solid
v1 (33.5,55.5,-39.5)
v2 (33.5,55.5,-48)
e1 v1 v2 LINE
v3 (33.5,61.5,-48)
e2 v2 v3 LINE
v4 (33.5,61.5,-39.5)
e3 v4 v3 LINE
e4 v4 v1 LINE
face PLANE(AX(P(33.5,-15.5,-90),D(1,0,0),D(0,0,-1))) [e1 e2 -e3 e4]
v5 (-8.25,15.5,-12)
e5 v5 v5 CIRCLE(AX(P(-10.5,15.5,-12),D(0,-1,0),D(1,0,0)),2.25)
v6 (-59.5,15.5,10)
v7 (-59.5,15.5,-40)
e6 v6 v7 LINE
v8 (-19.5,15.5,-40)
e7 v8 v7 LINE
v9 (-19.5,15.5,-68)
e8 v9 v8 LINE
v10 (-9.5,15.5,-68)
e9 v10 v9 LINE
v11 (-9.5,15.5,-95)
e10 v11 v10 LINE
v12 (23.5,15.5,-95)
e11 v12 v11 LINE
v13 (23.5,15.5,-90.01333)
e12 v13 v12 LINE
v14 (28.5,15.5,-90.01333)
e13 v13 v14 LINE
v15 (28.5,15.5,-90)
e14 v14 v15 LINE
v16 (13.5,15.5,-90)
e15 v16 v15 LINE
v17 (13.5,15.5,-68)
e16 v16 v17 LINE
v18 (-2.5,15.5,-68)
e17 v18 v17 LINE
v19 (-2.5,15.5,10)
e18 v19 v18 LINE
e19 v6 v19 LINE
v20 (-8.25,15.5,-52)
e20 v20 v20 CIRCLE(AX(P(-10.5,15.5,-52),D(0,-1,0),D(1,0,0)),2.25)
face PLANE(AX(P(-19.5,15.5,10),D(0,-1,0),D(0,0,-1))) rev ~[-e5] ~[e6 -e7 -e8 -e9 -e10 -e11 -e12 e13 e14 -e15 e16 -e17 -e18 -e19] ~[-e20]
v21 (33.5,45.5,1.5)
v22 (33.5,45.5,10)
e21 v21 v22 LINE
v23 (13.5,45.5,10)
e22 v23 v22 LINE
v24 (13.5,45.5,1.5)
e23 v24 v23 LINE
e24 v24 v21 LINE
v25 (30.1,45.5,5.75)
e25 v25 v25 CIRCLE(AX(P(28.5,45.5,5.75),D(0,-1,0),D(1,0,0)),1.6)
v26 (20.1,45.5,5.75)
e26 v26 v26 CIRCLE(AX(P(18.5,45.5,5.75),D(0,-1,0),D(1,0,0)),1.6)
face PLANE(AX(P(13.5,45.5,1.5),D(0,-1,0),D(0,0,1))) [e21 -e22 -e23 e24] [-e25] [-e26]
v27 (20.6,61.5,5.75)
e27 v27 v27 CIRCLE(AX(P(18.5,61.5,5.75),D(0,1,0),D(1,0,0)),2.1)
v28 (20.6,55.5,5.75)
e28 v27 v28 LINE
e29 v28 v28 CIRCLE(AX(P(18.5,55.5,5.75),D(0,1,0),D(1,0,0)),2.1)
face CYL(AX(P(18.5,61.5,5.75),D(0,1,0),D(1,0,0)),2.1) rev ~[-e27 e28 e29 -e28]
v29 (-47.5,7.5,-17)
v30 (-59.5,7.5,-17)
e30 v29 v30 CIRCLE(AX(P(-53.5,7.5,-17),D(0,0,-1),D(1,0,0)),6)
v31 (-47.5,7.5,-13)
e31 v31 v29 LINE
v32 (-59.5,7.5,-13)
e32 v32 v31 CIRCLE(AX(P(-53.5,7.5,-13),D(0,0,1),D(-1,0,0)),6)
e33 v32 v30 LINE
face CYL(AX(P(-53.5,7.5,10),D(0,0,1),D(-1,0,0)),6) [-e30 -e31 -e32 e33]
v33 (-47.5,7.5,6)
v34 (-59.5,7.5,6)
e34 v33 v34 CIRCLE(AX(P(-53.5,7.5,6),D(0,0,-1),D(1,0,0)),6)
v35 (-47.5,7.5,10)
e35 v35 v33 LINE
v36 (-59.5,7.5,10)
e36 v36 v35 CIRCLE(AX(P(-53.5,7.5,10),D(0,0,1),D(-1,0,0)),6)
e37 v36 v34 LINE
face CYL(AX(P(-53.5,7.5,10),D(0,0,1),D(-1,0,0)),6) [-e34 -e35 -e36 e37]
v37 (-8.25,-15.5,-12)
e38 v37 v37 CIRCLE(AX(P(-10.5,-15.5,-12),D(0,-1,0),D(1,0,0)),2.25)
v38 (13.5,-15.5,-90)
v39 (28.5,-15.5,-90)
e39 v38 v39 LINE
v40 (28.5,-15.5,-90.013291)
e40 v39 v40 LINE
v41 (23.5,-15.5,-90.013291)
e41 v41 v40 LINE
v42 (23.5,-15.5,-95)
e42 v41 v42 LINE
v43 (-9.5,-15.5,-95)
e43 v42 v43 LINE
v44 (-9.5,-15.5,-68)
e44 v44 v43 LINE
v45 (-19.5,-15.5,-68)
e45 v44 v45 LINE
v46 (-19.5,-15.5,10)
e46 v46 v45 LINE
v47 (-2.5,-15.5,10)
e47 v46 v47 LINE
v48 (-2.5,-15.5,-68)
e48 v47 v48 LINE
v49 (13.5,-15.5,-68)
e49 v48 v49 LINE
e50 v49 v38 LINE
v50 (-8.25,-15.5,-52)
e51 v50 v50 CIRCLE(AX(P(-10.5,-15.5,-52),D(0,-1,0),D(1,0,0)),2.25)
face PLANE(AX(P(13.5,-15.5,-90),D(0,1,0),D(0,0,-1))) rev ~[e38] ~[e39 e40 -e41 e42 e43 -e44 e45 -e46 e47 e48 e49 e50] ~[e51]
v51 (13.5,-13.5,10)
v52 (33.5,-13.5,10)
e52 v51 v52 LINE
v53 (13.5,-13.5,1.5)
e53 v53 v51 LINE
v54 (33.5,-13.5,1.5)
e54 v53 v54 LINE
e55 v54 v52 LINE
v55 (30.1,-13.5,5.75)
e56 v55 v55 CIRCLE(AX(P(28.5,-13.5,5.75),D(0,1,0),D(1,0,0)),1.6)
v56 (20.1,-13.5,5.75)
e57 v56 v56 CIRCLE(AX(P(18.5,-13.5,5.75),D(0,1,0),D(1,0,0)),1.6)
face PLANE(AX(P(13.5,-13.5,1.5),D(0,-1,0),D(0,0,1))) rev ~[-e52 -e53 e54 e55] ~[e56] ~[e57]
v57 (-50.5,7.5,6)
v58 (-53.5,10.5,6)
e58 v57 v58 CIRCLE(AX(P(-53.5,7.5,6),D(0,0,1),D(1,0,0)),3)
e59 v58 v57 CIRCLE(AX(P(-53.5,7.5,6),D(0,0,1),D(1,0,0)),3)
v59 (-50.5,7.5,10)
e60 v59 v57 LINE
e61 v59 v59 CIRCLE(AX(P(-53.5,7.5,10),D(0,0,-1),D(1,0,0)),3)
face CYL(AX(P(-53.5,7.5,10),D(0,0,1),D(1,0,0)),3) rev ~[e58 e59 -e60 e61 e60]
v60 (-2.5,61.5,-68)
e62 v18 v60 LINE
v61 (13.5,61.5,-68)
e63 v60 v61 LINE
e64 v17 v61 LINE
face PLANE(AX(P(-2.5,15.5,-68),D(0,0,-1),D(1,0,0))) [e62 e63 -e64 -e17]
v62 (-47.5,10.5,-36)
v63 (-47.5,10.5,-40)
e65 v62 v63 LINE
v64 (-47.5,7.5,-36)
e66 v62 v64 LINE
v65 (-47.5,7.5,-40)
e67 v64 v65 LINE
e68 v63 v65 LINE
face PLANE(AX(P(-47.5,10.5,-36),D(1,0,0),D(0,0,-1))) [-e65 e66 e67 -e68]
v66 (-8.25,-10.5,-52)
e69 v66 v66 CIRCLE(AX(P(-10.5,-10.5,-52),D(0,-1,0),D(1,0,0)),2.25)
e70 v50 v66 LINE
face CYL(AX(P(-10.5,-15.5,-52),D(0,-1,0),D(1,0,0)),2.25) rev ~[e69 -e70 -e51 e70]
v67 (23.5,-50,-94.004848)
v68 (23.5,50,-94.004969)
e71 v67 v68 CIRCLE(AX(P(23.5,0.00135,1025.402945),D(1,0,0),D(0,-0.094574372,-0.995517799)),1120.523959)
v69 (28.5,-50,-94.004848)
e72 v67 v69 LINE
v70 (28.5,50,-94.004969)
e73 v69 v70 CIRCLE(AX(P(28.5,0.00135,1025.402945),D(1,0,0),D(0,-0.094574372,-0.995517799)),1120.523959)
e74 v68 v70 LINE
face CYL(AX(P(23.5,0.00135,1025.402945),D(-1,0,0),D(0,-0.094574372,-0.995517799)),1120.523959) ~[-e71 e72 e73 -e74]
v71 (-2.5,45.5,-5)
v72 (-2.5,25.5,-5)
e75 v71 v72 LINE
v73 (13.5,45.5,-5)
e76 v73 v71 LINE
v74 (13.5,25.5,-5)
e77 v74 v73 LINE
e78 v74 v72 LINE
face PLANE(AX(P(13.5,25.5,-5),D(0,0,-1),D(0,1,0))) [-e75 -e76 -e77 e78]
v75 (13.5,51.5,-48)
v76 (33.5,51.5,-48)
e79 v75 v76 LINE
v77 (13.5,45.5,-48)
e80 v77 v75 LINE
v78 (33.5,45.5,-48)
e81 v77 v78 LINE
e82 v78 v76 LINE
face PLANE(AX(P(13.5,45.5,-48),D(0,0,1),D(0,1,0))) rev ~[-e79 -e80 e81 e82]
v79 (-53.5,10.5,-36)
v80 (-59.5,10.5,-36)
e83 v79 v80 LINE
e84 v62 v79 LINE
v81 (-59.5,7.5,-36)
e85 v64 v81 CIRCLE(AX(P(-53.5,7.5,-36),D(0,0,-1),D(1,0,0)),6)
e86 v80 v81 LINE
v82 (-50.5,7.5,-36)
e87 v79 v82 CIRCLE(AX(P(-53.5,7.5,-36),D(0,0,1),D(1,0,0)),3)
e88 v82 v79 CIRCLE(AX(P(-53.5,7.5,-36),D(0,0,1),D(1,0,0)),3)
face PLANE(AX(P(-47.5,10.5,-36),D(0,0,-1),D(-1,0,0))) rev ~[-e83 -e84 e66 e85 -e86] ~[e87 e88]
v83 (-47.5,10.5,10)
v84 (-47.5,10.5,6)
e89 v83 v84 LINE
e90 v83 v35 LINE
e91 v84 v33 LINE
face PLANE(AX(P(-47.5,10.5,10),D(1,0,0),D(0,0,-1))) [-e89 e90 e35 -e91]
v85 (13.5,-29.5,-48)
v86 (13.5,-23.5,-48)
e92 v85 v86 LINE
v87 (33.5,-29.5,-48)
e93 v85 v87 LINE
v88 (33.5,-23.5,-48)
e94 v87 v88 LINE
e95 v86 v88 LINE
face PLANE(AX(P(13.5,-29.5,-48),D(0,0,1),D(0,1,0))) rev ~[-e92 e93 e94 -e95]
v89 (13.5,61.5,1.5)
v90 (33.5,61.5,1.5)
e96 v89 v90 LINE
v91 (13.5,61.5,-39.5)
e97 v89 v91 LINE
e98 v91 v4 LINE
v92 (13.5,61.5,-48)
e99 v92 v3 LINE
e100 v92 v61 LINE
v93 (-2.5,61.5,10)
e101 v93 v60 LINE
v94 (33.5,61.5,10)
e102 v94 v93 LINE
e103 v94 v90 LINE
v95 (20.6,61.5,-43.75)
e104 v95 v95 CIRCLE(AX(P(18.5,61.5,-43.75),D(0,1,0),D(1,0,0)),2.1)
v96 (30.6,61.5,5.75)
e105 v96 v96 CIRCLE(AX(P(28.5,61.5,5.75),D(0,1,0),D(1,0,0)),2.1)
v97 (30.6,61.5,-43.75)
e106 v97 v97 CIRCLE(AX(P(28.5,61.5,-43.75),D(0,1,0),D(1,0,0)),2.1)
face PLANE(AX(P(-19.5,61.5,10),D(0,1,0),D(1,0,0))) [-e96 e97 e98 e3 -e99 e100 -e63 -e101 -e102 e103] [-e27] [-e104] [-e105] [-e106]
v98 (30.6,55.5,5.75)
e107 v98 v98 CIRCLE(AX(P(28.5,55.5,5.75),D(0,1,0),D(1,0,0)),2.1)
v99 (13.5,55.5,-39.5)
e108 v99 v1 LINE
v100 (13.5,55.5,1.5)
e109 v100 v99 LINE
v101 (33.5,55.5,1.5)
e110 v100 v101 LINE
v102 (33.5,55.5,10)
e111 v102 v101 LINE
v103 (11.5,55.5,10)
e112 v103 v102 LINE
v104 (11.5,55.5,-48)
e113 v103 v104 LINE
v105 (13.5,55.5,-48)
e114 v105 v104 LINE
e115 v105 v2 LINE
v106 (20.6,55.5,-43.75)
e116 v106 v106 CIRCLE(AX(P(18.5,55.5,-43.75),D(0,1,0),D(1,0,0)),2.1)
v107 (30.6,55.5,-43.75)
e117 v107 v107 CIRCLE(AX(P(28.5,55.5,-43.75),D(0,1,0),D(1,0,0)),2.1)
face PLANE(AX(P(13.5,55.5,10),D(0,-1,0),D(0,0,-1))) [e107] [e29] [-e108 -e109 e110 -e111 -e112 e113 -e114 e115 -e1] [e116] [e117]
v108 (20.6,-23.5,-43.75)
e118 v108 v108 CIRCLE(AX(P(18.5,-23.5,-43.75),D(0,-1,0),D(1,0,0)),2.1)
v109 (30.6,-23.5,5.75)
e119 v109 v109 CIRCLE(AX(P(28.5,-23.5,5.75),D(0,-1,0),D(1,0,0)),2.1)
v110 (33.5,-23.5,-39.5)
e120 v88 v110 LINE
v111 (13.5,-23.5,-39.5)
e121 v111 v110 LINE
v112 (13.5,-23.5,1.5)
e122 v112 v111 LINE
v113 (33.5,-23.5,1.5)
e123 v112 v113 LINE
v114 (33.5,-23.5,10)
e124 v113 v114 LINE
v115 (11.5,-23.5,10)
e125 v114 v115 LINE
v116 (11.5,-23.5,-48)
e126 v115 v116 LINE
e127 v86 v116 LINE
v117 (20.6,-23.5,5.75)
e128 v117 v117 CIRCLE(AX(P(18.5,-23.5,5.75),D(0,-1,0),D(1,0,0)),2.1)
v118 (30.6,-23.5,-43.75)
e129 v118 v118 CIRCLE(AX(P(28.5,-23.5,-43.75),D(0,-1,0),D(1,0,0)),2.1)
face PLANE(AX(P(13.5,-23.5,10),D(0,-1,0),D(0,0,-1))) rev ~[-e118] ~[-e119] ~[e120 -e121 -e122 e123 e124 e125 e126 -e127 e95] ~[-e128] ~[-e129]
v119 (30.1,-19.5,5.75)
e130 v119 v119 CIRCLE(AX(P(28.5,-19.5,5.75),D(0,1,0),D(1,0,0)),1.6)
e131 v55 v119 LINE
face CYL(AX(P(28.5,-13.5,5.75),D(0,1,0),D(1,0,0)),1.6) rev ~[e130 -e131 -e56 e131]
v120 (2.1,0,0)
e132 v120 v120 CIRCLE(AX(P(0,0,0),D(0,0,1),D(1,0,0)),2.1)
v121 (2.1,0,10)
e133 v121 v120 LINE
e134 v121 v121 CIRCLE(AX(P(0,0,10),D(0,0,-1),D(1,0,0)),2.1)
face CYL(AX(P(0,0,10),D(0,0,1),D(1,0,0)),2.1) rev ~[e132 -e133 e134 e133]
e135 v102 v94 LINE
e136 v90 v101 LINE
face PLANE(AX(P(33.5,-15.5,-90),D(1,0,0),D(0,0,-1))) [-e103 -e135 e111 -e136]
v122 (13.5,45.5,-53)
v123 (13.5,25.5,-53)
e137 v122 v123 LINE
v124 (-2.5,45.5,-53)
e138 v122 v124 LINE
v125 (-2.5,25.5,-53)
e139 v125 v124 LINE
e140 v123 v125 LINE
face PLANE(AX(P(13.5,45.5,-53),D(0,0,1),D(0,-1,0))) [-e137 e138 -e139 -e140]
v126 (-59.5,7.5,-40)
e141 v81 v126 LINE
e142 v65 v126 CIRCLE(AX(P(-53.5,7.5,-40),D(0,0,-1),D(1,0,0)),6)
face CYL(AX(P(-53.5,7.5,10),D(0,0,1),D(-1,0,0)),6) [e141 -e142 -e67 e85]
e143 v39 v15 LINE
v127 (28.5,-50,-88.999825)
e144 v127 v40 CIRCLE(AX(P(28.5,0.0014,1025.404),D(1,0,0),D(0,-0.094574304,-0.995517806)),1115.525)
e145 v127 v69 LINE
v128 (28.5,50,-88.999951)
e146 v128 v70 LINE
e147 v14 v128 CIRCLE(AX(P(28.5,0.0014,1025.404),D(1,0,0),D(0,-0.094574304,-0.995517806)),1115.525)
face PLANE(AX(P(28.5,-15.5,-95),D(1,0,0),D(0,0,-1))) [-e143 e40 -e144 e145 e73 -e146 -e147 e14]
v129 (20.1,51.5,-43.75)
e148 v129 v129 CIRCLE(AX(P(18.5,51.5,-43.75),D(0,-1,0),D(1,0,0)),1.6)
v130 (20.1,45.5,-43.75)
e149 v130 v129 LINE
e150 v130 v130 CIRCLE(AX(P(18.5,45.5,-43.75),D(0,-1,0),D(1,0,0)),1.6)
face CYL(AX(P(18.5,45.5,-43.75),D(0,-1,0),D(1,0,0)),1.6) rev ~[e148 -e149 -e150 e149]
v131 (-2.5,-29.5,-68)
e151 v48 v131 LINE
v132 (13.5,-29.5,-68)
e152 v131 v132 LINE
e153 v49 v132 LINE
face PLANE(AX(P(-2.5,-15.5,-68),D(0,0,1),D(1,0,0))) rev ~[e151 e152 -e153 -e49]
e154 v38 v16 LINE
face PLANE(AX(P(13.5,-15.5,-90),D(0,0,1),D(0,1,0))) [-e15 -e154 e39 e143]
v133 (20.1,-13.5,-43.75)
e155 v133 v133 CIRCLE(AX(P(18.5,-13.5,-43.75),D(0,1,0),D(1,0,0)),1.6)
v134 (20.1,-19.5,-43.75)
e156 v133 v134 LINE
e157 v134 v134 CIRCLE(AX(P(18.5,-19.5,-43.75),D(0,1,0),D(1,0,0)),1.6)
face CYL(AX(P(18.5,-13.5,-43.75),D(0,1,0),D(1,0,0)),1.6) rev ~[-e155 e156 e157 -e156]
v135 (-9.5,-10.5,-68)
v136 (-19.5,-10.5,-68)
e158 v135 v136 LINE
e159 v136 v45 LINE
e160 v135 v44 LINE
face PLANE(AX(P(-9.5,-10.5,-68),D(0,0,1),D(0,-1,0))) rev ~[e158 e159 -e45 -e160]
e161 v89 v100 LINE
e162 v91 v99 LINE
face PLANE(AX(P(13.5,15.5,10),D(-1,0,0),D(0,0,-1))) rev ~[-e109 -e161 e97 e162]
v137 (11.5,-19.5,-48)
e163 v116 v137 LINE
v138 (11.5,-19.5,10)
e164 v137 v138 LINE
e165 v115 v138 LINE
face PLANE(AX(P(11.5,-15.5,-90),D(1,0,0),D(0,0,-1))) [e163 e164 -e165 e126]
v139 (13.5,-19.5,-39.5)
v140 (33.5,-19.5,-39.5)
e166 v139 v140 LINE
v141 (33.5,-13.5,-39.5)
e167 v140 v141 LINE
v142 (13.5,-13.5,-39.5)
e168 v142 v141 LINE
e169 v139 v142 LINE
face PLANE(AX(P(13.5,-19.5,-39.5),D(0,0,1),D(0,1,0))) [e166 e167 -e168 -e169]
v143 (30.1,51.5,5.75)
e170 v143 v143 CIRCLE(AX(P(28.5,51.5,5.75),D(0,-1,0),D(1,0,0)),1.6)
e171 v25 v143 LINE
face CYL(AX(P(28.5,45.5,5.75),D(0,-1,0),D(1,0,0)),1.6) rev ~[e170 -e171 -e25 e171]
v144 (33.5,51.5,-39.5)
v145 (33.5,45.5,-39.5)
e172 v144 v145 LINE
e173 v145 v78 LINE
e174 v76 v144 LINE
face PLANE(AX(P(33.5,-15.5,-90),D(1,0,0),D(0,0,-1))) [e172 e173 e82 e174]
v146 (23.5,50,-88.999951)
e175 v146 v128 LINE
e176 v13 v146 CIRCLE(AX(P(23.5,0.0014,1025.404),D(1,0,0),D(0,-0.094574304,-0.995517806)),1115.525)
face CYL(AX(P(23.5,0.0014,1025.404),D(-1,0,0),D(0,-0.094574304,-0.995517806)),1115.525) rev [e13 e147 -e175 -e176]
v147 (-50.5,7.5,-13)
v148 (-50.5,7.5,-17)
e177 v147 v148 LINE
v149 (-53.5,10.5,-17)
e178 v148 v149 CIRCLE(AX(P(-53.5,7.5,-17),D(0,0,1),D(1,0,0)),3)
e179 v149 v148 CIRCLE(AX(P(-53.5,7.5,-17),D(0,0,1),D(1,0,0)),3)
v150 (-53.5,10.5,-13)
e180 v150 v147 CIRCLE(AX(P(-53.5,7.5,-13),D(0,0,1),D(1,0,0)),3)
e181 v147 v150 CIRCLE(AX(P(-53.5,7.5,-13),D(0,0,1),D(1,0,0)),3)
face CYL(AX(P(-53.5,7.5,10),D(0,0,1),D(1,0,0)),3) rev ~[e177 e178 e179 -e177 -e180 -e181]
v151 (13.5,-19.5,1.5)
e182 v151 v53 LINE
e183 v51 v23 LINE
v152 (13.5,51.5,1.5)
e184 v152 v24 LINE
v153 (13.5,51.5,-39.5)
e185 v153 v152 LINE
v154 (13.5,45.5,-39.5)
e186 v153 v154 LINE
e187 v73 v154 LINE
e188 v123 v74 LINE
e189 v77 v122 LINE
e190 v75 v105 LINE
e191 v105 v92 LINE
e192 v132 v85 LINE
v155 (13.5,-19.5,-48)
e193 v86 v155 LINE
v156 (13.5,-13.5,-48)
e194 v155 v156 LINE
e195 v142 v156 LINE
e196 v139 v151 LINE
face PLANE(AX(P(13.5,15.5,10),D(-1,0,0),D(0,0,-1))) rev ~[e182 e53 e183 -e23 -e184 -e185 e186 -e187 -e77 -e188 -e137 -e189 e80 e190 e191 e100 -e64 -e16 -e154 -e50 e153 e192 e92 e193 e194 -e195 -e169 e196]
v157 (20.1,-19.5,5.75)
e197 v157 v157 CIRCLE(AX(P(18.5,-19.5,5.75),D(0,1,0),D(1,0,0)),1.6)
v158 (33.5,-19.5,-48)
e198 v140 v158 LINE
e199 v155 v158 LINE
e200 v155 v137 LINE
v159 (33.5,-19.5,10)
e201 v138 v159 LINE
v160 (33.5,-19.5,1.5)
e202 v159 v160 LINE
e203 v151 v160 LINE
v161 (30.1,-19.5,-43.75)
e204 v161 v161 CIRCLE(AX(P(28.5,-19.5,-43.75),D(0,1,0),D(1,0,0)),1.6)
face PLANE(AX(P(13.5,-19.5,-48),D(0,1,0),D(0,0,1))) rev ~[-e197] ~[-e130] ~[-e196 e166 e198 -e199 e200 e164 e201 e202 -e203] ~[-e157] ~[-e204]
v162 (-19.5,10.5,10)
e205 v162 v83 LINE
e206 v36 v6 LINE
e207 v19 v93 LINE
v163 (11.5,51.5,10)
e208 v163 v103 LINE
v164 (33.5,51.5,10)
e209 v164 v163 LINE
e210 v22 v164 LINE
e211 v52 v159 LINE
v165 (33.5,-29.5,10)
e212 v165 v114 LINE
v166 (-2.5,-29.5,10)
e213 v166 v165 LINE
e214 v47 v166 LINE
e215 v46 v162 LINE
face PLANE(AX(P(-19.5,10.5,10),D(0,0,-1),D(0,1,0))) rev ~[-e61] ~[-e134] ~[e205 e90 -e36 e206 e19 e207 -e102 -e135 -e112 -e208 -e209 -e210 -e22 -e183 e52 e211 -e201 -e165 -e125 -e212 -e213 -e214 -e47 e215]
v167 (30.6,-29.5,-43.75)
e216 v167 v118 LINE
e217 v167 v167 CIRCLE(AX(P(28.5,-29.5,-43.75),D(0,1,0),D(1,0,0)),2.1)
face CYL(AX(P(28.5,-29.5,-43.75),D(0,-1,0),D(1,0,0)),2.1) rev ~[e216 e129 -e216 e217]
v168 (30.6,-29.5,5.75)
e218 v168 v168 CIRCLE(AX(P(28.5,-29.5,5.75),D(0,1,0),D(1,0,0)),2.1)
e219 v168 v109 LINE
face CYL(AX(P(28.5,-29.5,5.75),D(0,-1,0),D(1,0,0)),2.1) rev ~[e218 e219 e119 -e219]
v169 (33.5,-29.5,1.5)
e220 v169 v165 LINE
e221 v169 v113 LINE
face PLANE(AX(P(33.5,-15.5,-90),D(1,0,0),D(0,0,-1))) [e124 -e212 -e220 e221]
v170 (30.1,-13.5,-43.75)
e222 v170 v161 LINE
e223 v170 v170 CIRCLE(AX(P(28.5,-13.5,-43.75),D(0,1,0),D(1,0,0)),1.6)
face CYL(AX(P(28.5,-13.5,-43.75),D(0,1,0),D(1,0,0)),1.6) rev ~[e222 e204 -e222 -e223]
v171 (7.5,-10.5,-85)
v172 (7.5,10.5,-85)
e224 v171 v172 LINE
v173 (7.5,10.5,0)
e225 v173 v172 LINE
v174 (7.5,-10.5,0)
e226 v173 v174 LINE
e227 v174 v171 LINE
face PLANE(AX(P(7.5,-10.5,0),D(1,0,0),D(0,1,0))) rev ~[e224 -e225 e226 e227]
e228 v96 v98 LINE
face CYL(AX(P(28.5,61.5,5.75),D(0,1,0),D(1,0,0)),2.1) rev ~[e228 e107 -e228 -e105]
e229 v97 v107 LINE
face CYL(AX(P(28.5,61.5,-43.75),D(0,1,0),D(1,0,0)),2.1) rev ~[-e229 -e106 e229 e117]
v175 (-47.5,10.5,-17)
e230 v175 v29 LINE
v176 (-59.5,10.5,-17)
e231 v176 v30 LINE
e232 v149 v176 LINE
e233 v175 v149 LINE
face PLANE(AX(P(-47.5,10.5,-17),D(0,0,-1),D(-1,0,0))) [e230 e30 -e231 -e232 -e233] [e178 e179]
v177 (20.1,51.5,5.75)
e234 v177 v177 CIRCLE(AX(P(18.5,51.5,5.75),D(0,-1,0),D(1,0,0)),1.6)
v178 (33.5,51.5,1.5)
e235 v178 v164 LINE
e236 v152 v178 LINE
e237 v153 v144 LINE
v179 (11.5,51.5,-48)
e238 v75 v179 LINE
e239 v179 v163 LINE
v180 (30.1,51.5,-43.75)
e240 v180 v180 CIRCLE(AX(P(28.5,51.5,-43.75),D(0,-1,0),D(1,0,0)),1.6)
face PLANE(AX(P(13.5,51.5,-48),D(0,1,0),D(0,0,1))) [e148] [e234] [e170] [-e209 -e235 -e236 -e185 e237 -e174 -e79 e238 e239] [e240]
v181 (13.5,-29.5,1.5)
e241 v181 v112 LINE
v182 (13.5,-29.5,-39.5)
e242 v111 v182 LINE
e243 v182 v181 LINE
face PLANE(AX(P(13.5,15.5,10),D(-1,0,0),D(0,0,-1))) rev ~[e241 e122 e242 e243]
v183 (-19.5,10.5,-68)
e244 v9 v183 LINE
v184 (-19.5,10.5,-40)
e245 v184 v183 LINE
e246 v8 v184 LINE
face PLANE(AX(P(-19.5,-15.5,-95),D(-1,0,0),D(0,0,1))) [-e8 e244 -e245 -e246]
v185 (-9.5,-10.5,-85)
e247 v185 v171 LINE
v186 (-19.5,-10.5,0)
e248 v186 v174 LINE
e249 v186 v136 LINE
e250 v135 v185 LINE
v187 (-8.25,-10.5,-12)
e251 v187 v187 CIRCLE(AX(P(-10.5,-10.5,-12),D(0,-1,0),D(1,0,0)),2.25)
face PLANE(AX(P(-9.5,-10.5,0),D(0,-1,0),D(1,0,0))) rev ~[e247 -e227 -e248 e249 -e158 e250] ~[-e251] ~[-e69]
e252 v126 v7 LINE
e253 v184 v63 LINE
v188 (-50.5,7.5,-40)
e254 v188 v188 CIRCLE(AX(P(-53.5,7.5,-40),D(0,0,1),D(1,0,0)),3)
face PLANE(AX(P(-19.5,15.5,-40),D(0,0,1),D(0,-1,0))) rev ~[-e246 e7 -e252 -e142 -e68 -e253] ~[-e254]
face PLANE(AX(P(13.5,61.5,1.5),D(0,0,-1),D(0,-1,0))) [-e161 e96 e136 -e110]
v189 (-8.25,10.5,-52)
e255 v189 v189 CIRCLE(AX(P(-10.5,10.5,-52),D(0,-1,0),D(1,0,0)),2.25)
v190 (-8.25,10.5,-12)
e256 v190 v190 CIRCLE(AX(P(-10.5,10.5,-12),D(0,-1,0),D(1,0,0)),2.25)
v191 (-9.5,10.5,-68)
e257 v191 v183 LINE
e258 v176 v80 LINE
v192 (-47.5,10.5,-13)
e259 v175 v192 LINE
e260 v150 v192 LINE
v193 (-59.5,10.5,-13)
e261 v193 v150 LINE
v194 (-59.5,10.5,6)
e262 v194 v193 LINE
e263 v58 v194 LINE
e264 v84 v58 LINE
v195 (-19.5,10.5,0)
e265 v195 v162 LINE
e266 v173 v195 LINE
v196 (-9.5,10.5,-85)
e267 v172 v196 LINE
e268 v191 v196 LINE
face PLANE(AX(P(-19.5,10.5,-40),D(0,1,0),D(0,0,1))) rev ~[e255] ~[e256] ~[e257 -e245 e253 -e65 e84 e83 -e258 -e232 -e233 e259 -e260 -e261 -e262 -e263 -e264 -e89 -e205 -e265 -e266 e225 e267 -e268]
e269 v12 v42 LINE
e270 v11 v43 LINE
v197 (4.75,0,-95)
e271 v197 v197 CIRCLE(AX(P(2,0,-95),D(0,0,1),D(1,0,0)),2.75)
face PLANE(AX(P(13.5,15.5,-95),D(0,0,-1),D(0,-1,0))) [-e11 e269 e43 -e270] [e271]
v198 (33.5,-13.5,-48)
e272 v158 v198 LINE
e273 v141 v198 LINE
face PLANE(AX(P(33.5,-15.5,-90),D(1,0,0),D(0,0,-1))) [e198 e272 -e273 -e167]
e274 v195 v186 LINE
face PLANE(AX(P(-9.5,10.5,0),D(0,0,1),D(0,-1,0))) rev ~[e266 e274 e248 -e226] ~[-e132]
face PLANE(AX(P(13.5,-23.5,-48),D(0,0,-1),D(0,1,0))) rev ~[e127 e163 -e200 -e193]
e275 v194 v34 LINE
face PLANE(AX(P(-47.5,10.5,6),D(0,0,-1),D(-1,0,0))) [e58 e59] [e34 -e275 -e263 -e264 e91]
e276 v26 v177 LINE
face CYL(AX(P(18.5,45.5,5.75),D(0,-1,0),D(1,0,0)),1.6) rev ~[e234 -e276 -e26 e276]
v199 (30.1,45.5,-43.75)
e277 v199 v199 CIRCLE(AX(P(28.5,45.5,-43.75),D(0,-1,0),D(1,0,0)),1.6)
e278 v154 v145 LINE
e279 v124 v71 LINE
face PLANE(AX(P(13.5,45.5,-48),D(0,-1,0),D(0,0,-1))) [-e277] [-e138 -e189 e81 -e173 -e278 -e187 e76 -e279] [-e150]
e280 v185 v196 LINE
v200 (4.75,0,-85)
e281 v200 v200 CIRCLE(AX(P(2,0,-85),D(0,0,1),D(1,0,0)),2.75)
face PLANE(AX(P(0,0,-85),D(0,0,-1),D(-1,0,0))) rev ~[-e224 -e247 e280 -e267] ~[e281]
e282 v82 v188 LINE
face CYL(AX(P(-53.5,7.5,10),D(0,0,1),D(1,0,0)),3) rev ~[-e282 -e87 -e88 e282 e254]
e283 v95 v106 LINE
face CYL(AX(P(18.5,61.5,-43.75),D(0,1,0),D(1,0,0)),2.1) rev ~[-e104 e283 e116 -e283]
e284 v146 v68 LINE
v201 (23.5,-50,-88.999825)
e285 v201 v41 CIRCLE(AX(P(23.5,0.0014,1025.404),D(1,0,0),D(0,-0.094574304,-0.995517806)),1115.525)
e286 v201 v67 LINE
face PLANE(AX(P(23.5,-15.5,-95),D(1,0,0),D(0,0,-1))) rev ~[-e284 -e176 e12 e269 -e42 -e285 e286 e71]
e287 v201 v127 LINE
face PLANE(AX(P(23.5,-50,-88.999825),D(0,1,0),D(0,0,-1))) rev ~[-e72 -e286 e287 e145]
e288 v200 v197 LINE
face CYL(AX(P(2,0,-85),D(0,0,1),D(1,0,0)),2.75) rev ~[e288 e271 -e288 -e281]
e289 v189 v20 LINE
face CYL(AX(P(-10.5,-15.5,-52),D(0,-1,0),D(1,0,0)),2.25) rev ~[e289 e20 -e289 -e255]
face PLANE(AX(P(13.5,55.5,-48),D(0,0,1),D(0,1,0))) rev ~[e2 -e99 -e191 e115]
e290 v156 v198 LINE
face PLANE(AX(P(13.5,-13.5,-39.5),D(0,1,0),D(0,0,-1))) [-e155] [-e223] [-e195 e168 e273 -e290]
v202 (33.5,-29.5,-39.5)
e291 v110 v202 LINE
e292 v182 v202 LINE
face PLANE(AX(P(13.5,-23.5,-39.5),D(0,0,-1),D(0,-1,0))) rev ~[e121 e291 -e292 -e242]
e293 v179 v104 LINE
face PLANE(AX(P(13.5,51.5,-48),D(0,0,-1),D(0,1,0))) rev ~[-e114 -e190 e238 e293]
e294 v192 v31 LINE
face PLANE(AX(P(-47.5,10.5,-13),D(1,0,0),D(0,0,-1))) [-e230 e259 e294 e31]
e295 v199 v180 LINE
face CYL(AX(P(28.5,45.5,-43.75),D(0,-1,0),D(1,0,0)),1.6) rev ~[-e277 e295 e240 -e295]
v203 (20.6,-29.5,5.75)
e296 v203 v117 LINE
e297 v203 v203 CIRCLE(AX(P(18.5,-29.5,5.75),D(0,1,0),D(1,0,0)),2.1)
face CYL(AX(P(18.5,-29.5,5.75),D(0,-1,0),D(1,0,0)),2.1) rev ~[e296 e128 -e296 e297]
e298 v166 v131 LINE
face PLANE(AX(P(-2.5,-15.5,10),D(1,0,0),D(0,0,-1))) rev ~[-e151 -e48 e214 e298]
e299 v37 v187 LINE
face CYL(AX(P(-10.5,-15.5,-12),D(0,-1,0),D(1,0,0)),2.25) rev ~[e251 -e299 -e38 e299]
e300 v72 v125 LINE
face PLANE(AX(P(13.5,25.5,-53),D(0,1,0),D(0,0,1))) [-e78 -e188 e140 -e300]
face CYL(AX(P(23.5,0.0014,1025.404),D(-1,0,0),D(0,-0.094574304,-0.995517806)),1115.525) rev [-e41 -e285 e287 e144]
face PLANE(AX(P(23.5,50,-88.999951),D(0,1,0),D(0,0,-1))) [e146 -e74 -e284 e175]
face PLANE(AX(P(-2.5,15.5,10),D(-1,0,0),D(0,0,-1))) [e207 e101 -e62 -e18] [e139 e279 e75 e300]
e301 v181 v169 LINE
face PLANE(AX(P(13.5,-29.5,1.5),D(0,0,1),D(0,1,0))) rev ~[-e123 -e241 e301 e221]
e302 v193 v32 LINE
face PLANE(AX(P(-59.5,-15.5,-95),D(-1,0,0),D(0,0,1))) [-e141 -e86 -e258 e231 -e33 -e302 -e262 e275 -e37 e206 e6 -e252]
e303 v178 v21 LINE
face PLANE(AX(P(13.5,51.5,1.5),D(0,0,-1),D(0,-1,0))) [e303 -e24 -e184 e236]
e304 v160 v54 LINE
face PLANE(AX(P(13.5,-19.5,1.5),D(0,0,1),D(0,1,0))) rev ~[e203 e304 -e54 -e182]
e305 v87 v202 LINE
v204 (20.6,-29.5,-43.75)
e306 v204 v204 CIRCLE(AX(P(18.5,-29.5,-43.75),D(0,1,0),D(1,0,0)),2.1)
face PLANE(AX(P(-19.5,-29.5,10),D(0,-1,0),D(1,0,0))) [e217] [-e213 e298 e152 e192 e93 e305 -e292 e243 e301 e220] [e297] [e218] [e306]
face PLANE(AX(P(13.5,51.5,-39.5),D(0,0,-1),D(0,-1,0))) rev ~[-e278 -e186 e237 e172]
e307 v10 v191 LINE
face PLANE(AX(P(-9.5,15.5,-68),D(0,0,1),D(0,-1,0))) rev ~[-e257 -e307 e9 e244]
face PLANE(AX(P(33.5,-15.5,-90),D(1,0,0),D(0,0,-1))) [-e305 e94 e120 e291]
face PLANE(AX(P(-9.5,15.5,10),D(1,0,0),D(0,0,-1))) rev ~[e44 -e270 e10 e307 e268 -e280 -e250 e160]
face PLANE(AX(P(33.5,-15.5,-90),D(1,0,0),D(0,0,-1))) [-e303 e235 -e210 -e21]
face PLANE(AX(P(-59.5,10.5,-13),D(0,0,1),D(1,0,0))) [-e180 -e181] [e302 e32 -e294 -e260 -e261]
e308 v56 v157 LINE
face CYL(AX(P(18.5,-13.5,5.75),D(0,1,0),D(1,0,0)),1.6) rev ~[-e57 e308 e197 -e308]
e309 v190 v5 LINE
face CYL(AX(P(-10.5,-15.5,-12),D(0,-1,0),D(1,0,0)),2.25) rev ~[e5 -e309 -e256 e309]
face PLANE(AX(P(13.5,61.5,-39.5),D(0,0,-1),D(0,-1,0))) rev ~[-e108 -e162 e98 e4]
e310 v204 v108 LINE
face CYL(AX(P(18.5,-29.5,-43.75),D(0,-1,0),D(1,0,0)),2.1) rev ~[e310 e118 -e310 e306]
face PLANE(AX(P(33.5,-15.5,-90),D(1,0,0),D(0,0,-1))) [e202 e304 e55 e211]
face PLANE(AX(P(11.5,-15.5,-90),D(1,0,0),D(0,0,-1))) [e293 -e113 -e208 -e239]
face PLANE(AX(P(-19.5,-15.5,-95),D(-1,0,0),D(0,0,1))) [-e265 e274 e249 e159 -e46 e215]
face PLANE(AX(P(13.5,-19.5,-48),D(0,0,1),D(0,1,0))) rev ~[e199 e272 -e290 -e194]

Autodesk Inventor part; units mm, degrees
sketch "Skizze1" plane through (0, 0, 0) normal (0, 0, 1) x (1, 0, 0)
  line L0 (-9.5, -10.5) -> (7.5, -10.5)
  line L1 (7.5, -10.5) -> (7.5, 10.5)
  line L2 (7.5, 10.5) -> (-9.5, 10.5)
  line L3 (-14.1, 0) -> (18.1, 0) projected
  line L4 (0, -21.7) -> (0, 21.7) projected
  line L5 (-9.5, -10.5) -> (-9.5, -15.5)
  line L6 (-9.5, -15.5) -> (13.5, -15.5)
  line L7 (-9.5, 10.5) -> (-9.5, 15.5)
  line L8 (-9.5, 15.5) -> (13.5, 15.5)
  line L9 (13.5, 15.5) -> (13.5, -15.5)
  point P0 (0, 0)
  dimension "d2" = 21
  dimension "d4" = 7.5
  dimension "d5" = 5
  dimension "d8" = 5
  dimension "d9" = 23
  dimension "d147" = 6
  dimension "d148" = 23
extrude "Tower" add sketch "Skizze1" against normal blind 95 contours L0 L4 L6 L5 | L0 L1 L3 L9 L6 L4 | L1 L2 L4 L8 L9 L3 | L2 L7 L8 L4
ref_plane "Arbeitsebene1" through (0, 0, -95) normal (0, 0, -1) x (-1, 0, 0)
sketch "Skizze6" plane through (-9.5, 15.5, 0) normal (0, 1, 0) x (1, 0, 0)
  line L0 (23, 0) -> (23, 95) projected
  line L1 (23, 66.4131) -> (23, 0)
  line L2 (246, -7) -> (246, -5)
  line L3 (0, 0) -> (0, 95) projected
  line L4 (0, 0) -> (23, 0) projected
  line L5 (0, 0) -> (0, 95) projected
  line L6 (23, 95) -> (0, 95) projected
  line L7 (23, 0) -> (23, 95) projected
  line L8 (0, 0) -> (23, 0)
  line L9 (23, 0) -> (23, -10)
  line L10 (23, -10) -> (0, -10)
  line L11 (0, -10) -> (0, 0)
  dimension "d199" = 10
extrude "Gripperbogen" add sketch "Skizze6" against normal blind 31 contours L9 L10 L11 L4
sketch "Skizze12" plane through (0, 0, -95) normal (0, 0, -1) x (-1, 0, 0)
  line L0 (-214.5, 9.5) -> (-236.5, 9.5) projected
  line L1 (-236.5, 15.5) -> (-236.5, 9.5) projected
  line L2 (9.5, 15.5) -> (-236.5, 15.5) projected
  line L3 (9.5, 15.5) -> (9.5, -15.5) projected
  line L4 (-136.5, -15.5) -> (9.5, -15.5) projected
  line L5 (-136.5, -15.5) -> (-206.5, 0) projected
  line L6 (-206.5, 0) -> (-236.5, 0) projected
  line L7 (-236.5, 6) -> (-236.5, 0) projected
  line L8 (-236.5, 6) -> (-214.5, 6) projected
  line L9 (-214.5, 6) -> (-214.5, 9.5) projected
  line L10 (-7.5, 10.5) -> (9.5, 10.5) projected
  line L11 (9.5, 10.5) -> (9.5, 15.5) projected
  line L12 (9.5, 15.5) -> (-13.5, 15.5) projected
  line L13 (-13.5, 15.5) -> (-13.5, -15.5) projected
  line L14 (-13.5, -15.5) -> (9.5, -15.5) projected
  line L15 (9.5, -15.5) -> (9.5, -10.5) projected
  line L16 (9.5, -10.5) -> (-7.5, -10.5) projected
  line L17 (-7.5, -10.5) -> (-7.5, 10.5) projected
  line L18 (-13.5, 15.5) -> (-13.5, -15.5) projected
  line L19 (-13.5, -15.5) -> (9.5, -15.5)
  line L20 (9.5, -15.5) -> (9.5, 15.5)
  line L21 (9.5, 15.5) -> (-13.5, 15.5)
  line L22 (-13.5, 15.5) -> (-13.5, -15.5)
  point P0 (9.5, 25.25)
  point P1 (-13.5, -5.25)
  point P2 (-13.5, 15.5)
extrude "Extrusion10" add sketch "Skizze12" against normal blind 10 contours L2 L3 L10 L17 L16 L4 L13 | L3 L16 L17 L10
ref_plane "Arbeitsebene3" through (0, 0, -113.5) normal (0, 0, -1) x (-1, 0, 0)
ref_plane "Arbeitsebene4" through (-9.5, -5.25, -113.5) normal (-1, 0, 0) x (0, 0, 1)
sketch "Skizze18" plane through (0, 0, -85) normal (0, 0, 1) x (1, 0, 0)
  line L0 (7.5, 10.5) -> (7.5, -10.5) projected
  line L1 (-9.5, 10.5) -> (7.5, 10.5) projected
  circle A0 centre (2, 0) radius 2.75
  line L2 (7.5, -10.5) -> (-9.5, -10.5) projected
  line L3 (-9.5, 10.5) -> (-9.5, -10.5) projected
  point P0 (0, 0)
  dimension "d132" = 5.5
  dimension "d154" = 0
  dimension "d155" = 11.5
  dimension "d161" = 21
  dimension "d162" = 17
extrude "Extrusion15" cut sketch "Skizze18" against normal through all contours A0
sketch "Skizze19" plane through (-9.5, -15.5, -95) normal (-1, 0, 0) x (0, 0, 1)
  line L0 (0, 0) -> (0, 31) projected
  line L1 (95, 26) -> (10, 26) projected
  line L2 (95, 5) -> (10, 5) projected
  line L3 (27, 31) -> (27, 0)
  line L4 (10, 26) -> (10, 5) projected
  line L5 (10, 26) -> (0, 26)
  line L6 (10, 5) -> (0, 5)
  line L7 (95, 26) -> (105, 26)
  line L8 (10, 26) -> (10, 5) projected
  line L9 (105, 0) -> (0, 0) projected
  line L10 (105, 31) -> (105, 0) projected
  line L11 (0, 31) -> (105, 31) projected
  line L12 (95, 26) -> (95, 5) projected
  point P0 (95, 15.5)
  point P1 (23.5, 25.5)
  point P2 (23.5, 5)
  point P3 (27, 26)
  point P4 (27, 5)
  point P5 (20, 10.25)
  point P6 (27, 0)
  dimension "d201" = 78
extrude "Extrusion16" add sketch "Skizze19" along normal blind 10 contours L3 L2 L12 L7 L10 L9 | L3 L11 L10 L7 L1
sketch "Skizze15" plane through (-9.5, -15.5, -95) normal (0, -1, 0) x (1, 0, 0)
  line L0 (23, 0) -> (0, 0) projected
  circle A0 centre (-1, 43) radius 2.25
  circle A1 centre (-1, 83) radius 2.25
  line L1 (23, 0) -> (23, 105) projected
  line L2 (23, 105) -> (-10, 105) projected
  line L3 (0, 27) -> (0, 0) projected
  line L4 (-10, 27) -> (-10, 105) projected
  line L5 (0, 27) -> (-10, 27) projected
  point P0 (9.5, 95)
  dimension "d138" = 4.5
  dimension "d142" = 4.5
  dimension "d143" = 40
  dimension "d200" = 24
  dimension "d279" = 22
extrude "Extrusion13" cut sketch "Skizze15" against normal blind 100 contours A0 | A1
sketch "Skizze35" plane through (13.5, -15.5, -95) normal (1, 0, 0) x (0, 0, -1)
  line L0 (-100, 31) -> (0, 31) projected
  line L1 (-100, 0) -> (0, 0) projected
  line L2 (0, 31) -> (0, 0) projected
  line L3 (0, 31) -> (0, 0) projected
  line L4 (0, 0) -> (-5, 0)
  line L5 (-5, 0) -> (-5, 31)
  line L6 (-5, 31) -> (0, 31)
  line L7 (0, 31) -> (0, 0)
  line L8 (-105, 31) -> (0, 31) projected
  line L9 (-105, 31) -> (-105, 0) projected
  line L10 (0, 0) -> (-105, 0) projected
  point P0 (-29.8382, 31)
  point P1 (-29.8382, 0)
  point P2 (-95, 15.5)
  point P3 (-5, 31)
  point P4 (-5, 0)
  point P5 (-80, 31)
  point P6 (-80, 0)
  dimension "d176" = 5
extrude "Extrusion22" add sketch "Skizze35" along normal blind 10 contours L0 L2 L1 L5
sketch "Skizze36" plane through (23.5, -15.5, -95) normal (1, 0, 0) x (0, 0, -1)
  line L0 (-5, 0) -> (0, 0) projected
  line L1 (0, 0) -> (0, 31) projected
  line L2 (0, 31) -> (-5, 31) projected
  line L3 (-5, 31) -> (-5, 0) projected
  arc A0 (-9.879, -89.9986) -> (-9.879, 121.0014) centre (-1120.404, 15.5014) ccw
  line L4 (-5, 15.5) -> (0, 15.5)
  arc A1 (-4.9014, -90.4715) -> (-4.9014, 121.4742) centre (-1120.404, 15.5014) ccw
  line L5 (-5, 15.5) -> (0, 15.5)
  line L6 (-14.7679, -34.5) -> (17.3967, -34.5)
  line L7 (-14.7679, 65.5) -> (14.0644, 65.5)
  point P0 (-95, 15.5)
  point P1 (-0.9951, 65.5)
  point P2 (-6.0001, 65.5)
  point P3 (-4.9867, 31)
  point P4 (-4.9867, 0)
  point P5 (-6.0002, -34.5)
  point P6 (-0.9952, -34.5)
  dimension "d181" = 5
  dimension "d182" = 100
extrude "Extrusion23" add sketch "Skizze36" along normal blind 5
sketch "Skizze40" plane through (-19.5, -15.5, 10) normal (0, -1, 0) x (1, 0, 0)
  line L0 (33, -100) -> (33, 0) projected
  line L1 (33, 0) -> (0, 0) projected
  line L2 (33, 0) -> (17, 0)
  line L3 (17, 0) -> (17, -78)
  line L4 (17, -78) -> (33, -78)
  line L5 (33, -78) -> (33, 0)
  point P0 (19.5, -10)
  point P1 (17, 0)
  dimension "d202" = 16
  dimension "d203" = 78
extrude "Extrusion26" add sketch "Skizze40" along normal blind 14
sketch "Skizze41" plane through (-19.5, 15.5, 10) normal (0, 1, 0) x (1, 0, 0)
  line L0 (0, 0) -> (33, 0) projected
  line L1 (33, 0) -> (33, 100) projected
  line L2 (33, 78) -> (33, 0) projected
  line L3 (33, 0) -> (17, 0) projected
  line L4 (17, 0) -> (17, 78) projected
  line L5 (17, 78) -> (33, 78) projected
  point P0 (19.5, 10)
  point P1 (33, 78)
extrude "Extrusion27" add sketch "Skizze41" along normal blind 46
sketch "Skizze42" plane through (13.5, -15.5, -90) normal (1, 0, 0) x (0, 0, -1)
  line L0 (-22, 31) -> (-22, 77) projected
  line L1 (-100, -14) -> (-100, 77) projected
  line L2 (-22, 0) -> (-22, -14) projected
  line L3 (-22, -4) -> (-100, -4)
  line L4 (-100, -4) -> (-100, -8)
  line L5 (-100, -8) -> (-22, -8)
  line L6 (-22, -8) -> (-22, -4)
  line L7 (-100, 77) -> (-22, 77) projected
  line L8 (-22, -14) -> (-100, -14) projected
  line L9 (-100, 71) -> (-22, 71)
  line L10 (-22, 71) -> (-22, 67)
  line L11 (-22, 67) -> (-100, 67)
  line L12 (-100, 67) -> (-100, 71)
  line L13 (-42, -14) -> (-42, 77)
  point P0 (-90, 15.5)
  point P1 (-22, -8)
  point P2 (-42, -8)
  point P3 (-42, -4)
  point P4 (-42, 67)
  point P5 (-42, 71)
  dimension "d209" = 4
  dimension "d241" = 6
  dimension "d242" = 4
  dimension "d243" = 6
  dimension "d268" = 58
extrude "Extrusion28" cut sketch "Skizze42" against normal blind 2 contours L11 L1 L9 L13 | L13 L5 L1 L3
sketch "Skizze44" plane through (13.5, -15.5, -90) normal (1, 0, 0) x (0, 0, -1)
  line L0 (-100, -4) -> (-100, -8) projected
  line L1 (-100, -4) -> (-42, -4) projected
  line L2 (-22, 0) -> (-22, -14) projected
  line L3 (-42, -8) -> (-100, -8) projected
  line L4 (-100, -14) -> (-100, -8) projected
  line L5 (-22, -14) -> (-100, -14) projected
  line L6 (-22, 0) -> (-22, -14) projected
  line L7 (-22, 31) -> (-22, 77) projected
  line L8 (-100, 77) -> (-22, 77) projected
  line L9 (-100, 71) -> (-100, 77) projected
  line L10 (-100, -14) -> (-91.5, -14)
  line L11 (-91.5, -14) -> (-91.5, -8)
  line L12 (-91.5, -8) -> (-100, -8)
  line L13 (-100, -8) -> (-100, -14)
  line L14 (-50.5, -14) -> (-42, -14)
  line L15 (-42, -14) -> (-42, -8)
  line L16 (-42, -8) -> (-50.5, -8)
  line L17 (-50.5, -8) -> (-50.5, -14)
  line L18 (-22, -4) -> (-50.5, -4)
  line L19 (-50.5, -4) -> (-50.5, 2)
  line L20 (-50.5, 2) -> (-22, 2)
  line L21 (-22, 2) -> (-22, -4)
  line L22 (-100, -4) -> (-91.5, -4)
  line L23 (-91.5, -4) -> (-91.5, 2)
  line L24 (-91.5, 2) -> (-100, 2)
  line L25 (-100, 2) -> (-100, -4)
  line L26 (-100, -4) -> (-42, -4) projected
  line L27 (-22, 0) -> (-22, -14) projected
  line L28 (0, 0) -> (-22, 0) projected
  line L29 (0, 0) -> (0, 31) projected
  line L30 (-22, 31) -> (0, 31) projected
  line L31 (-42, -8) -> (-100, -8) projected
  line L32 (-100, -14) -> (-100, -8) projected
  line L33 (-22, -14) -> (-100, -14) projected
  line L34 (-42, 67) -> (-100, 67) projected
  line L35 (-100, -4) -> (-100, 67) projected
  line L36 (-100, 71) -> (-42, 71) projected
  line L37 (-91.5, 77) -> (-91.5, 71)
  line L38 (-100, 67) -> (-91.5, 67)
  line L39 (-91.5, 67) -> (-91.5, 61)
  line L40 (-91.5, 61) -> (-100, 61)
  line L41 (-100, 61) -> (-100, 67)
  line L42 (-50.5, 77) -> (-50.5, 71)
  line L43 (-22, 67) -> (-50.5, 67)
  line L44 (-50.5, 67) -> (-50.5, 61)
  line L45 (-50.5, 61) -> (-22, 61)
  line L46 (-22, 61) -> (-22, 67)
  line L47 (-42, -4) -> (-42, -8) projected
  line L48 (-42, 71) -> (-42, 67) projected
  line L49 (-100, -4) -> (-42, -4) projected
  line L50 (-42, -4) -> (-42, -8) projected
  line L51 (0, 0) -> (-22, 0) projected
  line L52 (0, 0) -> (0, 31) projected
  line L53 (-22, 31) -> (0, 31) projected
  line L54 (-22, 31) -> (-22, 77) projected
  line L55 (-100, 77) -> (-22, 77) projected
  line L56 (-100, 71) -> (-100, 77) projected
  line L57 (-100, 71) -> (-42, 71) projected
  line L58 (-42, 71) -> (-42, 67) projected
  line L59 (-42, 67) -> (-100, 67) projected
  line L60 (-100, -4) -> (-100, 67) projected
  line L61 (-100, 77) -> (-22, 77) projected
  line L62 (-42, -14) -> (-42, 77)
  point P0 (-90, 15.5)
  point P1 (-50.5, -11)
  point P2 (-50.5, -1)
  point P3 (-91.5, -11)
  point P4 (-91.5, -1)
  point P5 (-36.25, 2)
  point P6 (-95.75, 2)
  point P7 (-47, -2)
  point P8 (-100, 2)
  point P9 (-91.5, -4)
  point P10 (-91.5, 64)
  point P11 (-91.5, 74)
  point P12 (-50.5, 64)
  point P13 (-50.5, 74)
  point P14 (-100, 61)
  point P15 (-22, 0)
  point P16 (-42, -14)
  point P17 (-50.5, -4)
  point P18 (-100, 67)
  point P19 (-100, 61)
  point P20 (-100, 2)
  point P21 (-42, 61)
  point P22 (-42, 2)
  dimension "d216" = 8.5
  dimension "d217" = 8.5
  dimension "d218" = 41
  dimension "d219" = 6
  dimension "d244" = 6
  dimension "d245" = 6
extrude "Extrusion29" add sketch "Skizze44" along normal blind 20 contours L25 L24 L23 L1 | L3 L11 L5 L4 | L19 L20 L62 L1 | L35 L34 L39 L40 | L3 L15 L5 L17 | L45 L44 L34 L62 | L36 L42 L8 L62 | L36 L9 L8 L37
sketch "Skizze45" plane through (-19.5, -29.5, 10) normal (0, -1, 0) x (1, 0, 0)
  line L0 (53, 0) -> (53, -8.5) projected
  line L1 (17, 0) -> (17, -78) projected
  line L2 (53, 0) -> (53, -58) projected
  line L3 (33, -58) -> (33, -49.5) projected
  line L4 (53, -4.25) -> (17, -4.25)
  circle A0 centre (38, -53.75) radius 2.1
  circle A1 centre (48, -53.75) radius 2.1
  circle A2 centre (38, -4.25) radius 2.1
  circle A3 centre (48, -4.25) radius 2.1
  line L5 (33, -49.5) -> (33, -8.5) projected
  line L6 (53, -53.75) -> (17, -53.75)
  point P0 (53, -78)
  point P1 (19.5, -10)
  point P2 (33, -53.75)
  dimension "d227" = 4.2
  dimension "d228" = 4.2
  dimension "d229" = 4.2
  dimension "d230" = 4.2
  dimension "d231" = 5
  dimension "d237" = 5
extrude "Extrusion30" cut sketch "Skizze45" against normal blind 8 contours A3 L4 | L4 A3 | L6 A1 | A1 L6 | A2 L4 | L4 A2 | L6 A0 | A0 L6
sketch "Skizze46" plane through (-19.5, -15.5, -95) normal (-1, 0, 0) x (0, 0, 1)
  line L0 (27, 26) -> (95, 26) projected
  line L1 (105, 0) -> (105, 31) projected
  line L2 (105, 31) -> (27, 31) projected
  line L3 (27, 31) -> (27, 77) projected
  line L4 (105, -14) -> (27, -14) projected
  line L5 (27, 77) -> (27, -14)
  line L6 (95, 26) -> (105, 26)
  line L7 (55, 31) -> (55, 26)
  point P0 (95, 15.5)
  dimension "d267" = 50
extrude "Extrusion31" add sketch "Skizze46" along normal blind 40 contours L7 L2 L1 L6 L0
sketch "Skizze47" plane through (-19.5, -15.5, 10) normal (0, 0, 1) x (1, 0, 0)
  circle A0 centre (21.5, 15.5) radius 2.75 projected
  line L0 (27, 5) -> (10, 5) projected
  line L1 (27, 26) -> (27, 5) projected
  line L2 (10, 26) -> (27, 26) projected
  line L3 (10, 26) -> (10, 5) projected
  circle A1 centre (19.5, 15.5) radius 2.1
  point P0 (19.5, 15.5)
  dimension "d238" = 4.2
extrude "Extrusion32" cut sketch "Skizze47" against normal blind 10 contours A1 A0 | A0 A1 picked at (19.7139, 15.5) picked at (18.3139, 15.5)
sketch "Skizze48" plane through (-19.5, 61.5, 10) normal (0, 1, 0) x (1, 0, 0)
  circle A0 centre (48, 4.25) radius 2.1 projected
  circle A1 centre (38, 4.25) radius 2.1 projected
  circle A2 centre (38, 53.75) radius 2.1 projected
  circle A3 centre (48, 53.75) radius 2.1 projected
  point P0 (19.5, 10)
extrude "Extrusion33" cut sketch "Skizze48" against normal blind 8
sketch "Skizze50" plane through (13.5, -13.5, -39.5) normal (0, 1, 0) x (1, 0, 0)
  line L0 (0, -49.5) -> (0, -41) projected
  line L1 (0, -49.5) -> (20, -49.5) projected
  line L2 (20, -41) -> (20, -49.5) projected
  line L3 (0, -41) -> (20, -41) projected
  circle A0 centre (15, -45.25) radius 2.1 projected
  circle A1 centre (5, -45.25) radius 2.1 projected
  circle A2 centre (5, 4.25) radius 2.1 projected
  circle A3 centre (15, 4.25) radius 2.1 projected
  circle A4 centre (15, -45.25) radius 2.1 projected
  circle A5 centre (15, -45.25) radius 1.6
  circle A6 centre (5, -45.25) radius 1.6
  circle A7 centre (15, 4.25) radius 1.6
  circle A8 centre (5, 4.25) radius 1.6
  point P0 (-13.5, -39.5)
  dimension "d248" = 3.2
  dimension "d249" = 3.2
  dimension "d250" = 3.2
  dimension "d251" = 3.2
extrude "Extrusion34" cut sketch "Skizze50" against normal blind 8 contours A5 | A6 | A7 | A8
sketch "Skizze51" plane through (13.5, 45.5, 1.5) normal (0, -1, 0) x (1, 0, 0)
  line L0 (0, -49.5) -> (0, -41) projected
  line L1 (20, -41) -> (20, -49.5) projected
  line L2 (0, -41) -> (20, -41) projected
  circle A0 centre (5, -45.25) radius 1.6 projected
  circle A1 centre (15, -45.25) radius 1.6 projected
  circle A2 centre (5, 4.25) radius 1.6 projected
  circle A3 centre (15, 4.25) radius 1.6 projected
  line L3 (0, -49.5) -> (20, -49.5) projected
  point P0 (-13.5, -1.5)
extrude "Extrusion35" cut sketch "Skizze51" against normal blind 8 contours A0 | A1 | A2 | A3
sketch "Skizze55" plane through (-9.5, 10.5, -85) normal (0, -1, 0) x (1, 0, 0)
  line L0 (-10, 95) -> (-50, 95) projected
  line L1 (-50, 45) -> (-50, 95) projected
  line L2 (-10, 45) -> (-50, 45) projected
  line L3 (-38, 95) -> (-38, 45)
  line L4 (-50, 95) -> (-38, 95)
  line L5 (-38, 95) -> (-38, 91)
  line L6 (-38, 91) -> (-50, 91)
  line L7 (-50, 91) -> (-50, 95)
  line L8 (-50, 70) -> (-10, 70)
  line L9 (-50, 72) -> (-38, 72)
  line L10 (-38, 72) -> (-38, 68)
  line L11 (-38, 68) -> (-50, 68)
  line L12 (-50, 68) -> (-50, 72)
  line L13 (-50, 45) -> (-38, 45)
  line L14 (-38, 45) -> (-38, 49)
  line L15 (-38, 49) -> (-50, 49)
  line L16 (-50, 49) -> (-50, 45)
  point P0 (9.5, 85)
  point P1 (-50, 49)
  point P2 (-50, 68)
  dimension "d269" = 12
  dimension "d270" = 4
  dimension "d271" = 4
  dimension "d272" = 4
extrude "Extrusion39" add sketch "Skizze55" along normal blind 9 contours L3 L6 L1 L0 | L3 L8 L1 L9 | L3 L11 L1 L8 | L3 L2 L1 L15
sketch "Skizze56" plane through (-19.5, -15.5, 10) normal (0, 0, 1) x (1, 0, 0)
  line L0 (-40, 31) -> (-40, 17) projected
  line L1 (-28, 17) -> (-40, 17) projected
  line L2 (-28, 26) -> (-28, 17) projected
  line L3 (-28, 26) -> (-40, 26)
  line L4 (-34, 26) -> (-34, 17)
  circle A0 centre (-34, 23) radius 3
  arc A1 (-40, 23) -> (-28, 23) centre (-34, 23) ccw
  point P0 (-34, 17)
  dimension "d275" = 6
  dimension "d276" = 3
extrude "Extrusion40" cut sketch "Skizze56" against normal blind 80 contours A1 L1 L0 | A0 L4 | L4 A0 | A1 L2 L1
sketch "Skizze57" plane through (13.5, -15.5, -90) normal (1, 0, 0) x (0, 0, -1)
  line L0 (-100, 2) -> (-100, 61) projected
  line L1 (-22, 31) -> (-22, 77) projected
  line L2 (-42, 61) -> (-50.5, 61) projected
  line L3 (-85, 61) -> (-37, 61)
  line L4 (-37, 61) -> (-37, 41)
  line L5 (-37, 41) -> (-85, 41)
  line L6 (-85, 41) -> (-85, 61)
  line L7 (-100, 61) -> (-91.5, 61) projected
  point P0 (-90, 15.5)
  point P1 (-95.75, 61)
  point P2 (-61, 61)
  dimension "d280" = 20
  dimension "d281" = 15
  dimension "d282" = 15
extrude "Extrusion41" cut sketch "Skizze57" against normal blind 80
properties part number "Korpus"
